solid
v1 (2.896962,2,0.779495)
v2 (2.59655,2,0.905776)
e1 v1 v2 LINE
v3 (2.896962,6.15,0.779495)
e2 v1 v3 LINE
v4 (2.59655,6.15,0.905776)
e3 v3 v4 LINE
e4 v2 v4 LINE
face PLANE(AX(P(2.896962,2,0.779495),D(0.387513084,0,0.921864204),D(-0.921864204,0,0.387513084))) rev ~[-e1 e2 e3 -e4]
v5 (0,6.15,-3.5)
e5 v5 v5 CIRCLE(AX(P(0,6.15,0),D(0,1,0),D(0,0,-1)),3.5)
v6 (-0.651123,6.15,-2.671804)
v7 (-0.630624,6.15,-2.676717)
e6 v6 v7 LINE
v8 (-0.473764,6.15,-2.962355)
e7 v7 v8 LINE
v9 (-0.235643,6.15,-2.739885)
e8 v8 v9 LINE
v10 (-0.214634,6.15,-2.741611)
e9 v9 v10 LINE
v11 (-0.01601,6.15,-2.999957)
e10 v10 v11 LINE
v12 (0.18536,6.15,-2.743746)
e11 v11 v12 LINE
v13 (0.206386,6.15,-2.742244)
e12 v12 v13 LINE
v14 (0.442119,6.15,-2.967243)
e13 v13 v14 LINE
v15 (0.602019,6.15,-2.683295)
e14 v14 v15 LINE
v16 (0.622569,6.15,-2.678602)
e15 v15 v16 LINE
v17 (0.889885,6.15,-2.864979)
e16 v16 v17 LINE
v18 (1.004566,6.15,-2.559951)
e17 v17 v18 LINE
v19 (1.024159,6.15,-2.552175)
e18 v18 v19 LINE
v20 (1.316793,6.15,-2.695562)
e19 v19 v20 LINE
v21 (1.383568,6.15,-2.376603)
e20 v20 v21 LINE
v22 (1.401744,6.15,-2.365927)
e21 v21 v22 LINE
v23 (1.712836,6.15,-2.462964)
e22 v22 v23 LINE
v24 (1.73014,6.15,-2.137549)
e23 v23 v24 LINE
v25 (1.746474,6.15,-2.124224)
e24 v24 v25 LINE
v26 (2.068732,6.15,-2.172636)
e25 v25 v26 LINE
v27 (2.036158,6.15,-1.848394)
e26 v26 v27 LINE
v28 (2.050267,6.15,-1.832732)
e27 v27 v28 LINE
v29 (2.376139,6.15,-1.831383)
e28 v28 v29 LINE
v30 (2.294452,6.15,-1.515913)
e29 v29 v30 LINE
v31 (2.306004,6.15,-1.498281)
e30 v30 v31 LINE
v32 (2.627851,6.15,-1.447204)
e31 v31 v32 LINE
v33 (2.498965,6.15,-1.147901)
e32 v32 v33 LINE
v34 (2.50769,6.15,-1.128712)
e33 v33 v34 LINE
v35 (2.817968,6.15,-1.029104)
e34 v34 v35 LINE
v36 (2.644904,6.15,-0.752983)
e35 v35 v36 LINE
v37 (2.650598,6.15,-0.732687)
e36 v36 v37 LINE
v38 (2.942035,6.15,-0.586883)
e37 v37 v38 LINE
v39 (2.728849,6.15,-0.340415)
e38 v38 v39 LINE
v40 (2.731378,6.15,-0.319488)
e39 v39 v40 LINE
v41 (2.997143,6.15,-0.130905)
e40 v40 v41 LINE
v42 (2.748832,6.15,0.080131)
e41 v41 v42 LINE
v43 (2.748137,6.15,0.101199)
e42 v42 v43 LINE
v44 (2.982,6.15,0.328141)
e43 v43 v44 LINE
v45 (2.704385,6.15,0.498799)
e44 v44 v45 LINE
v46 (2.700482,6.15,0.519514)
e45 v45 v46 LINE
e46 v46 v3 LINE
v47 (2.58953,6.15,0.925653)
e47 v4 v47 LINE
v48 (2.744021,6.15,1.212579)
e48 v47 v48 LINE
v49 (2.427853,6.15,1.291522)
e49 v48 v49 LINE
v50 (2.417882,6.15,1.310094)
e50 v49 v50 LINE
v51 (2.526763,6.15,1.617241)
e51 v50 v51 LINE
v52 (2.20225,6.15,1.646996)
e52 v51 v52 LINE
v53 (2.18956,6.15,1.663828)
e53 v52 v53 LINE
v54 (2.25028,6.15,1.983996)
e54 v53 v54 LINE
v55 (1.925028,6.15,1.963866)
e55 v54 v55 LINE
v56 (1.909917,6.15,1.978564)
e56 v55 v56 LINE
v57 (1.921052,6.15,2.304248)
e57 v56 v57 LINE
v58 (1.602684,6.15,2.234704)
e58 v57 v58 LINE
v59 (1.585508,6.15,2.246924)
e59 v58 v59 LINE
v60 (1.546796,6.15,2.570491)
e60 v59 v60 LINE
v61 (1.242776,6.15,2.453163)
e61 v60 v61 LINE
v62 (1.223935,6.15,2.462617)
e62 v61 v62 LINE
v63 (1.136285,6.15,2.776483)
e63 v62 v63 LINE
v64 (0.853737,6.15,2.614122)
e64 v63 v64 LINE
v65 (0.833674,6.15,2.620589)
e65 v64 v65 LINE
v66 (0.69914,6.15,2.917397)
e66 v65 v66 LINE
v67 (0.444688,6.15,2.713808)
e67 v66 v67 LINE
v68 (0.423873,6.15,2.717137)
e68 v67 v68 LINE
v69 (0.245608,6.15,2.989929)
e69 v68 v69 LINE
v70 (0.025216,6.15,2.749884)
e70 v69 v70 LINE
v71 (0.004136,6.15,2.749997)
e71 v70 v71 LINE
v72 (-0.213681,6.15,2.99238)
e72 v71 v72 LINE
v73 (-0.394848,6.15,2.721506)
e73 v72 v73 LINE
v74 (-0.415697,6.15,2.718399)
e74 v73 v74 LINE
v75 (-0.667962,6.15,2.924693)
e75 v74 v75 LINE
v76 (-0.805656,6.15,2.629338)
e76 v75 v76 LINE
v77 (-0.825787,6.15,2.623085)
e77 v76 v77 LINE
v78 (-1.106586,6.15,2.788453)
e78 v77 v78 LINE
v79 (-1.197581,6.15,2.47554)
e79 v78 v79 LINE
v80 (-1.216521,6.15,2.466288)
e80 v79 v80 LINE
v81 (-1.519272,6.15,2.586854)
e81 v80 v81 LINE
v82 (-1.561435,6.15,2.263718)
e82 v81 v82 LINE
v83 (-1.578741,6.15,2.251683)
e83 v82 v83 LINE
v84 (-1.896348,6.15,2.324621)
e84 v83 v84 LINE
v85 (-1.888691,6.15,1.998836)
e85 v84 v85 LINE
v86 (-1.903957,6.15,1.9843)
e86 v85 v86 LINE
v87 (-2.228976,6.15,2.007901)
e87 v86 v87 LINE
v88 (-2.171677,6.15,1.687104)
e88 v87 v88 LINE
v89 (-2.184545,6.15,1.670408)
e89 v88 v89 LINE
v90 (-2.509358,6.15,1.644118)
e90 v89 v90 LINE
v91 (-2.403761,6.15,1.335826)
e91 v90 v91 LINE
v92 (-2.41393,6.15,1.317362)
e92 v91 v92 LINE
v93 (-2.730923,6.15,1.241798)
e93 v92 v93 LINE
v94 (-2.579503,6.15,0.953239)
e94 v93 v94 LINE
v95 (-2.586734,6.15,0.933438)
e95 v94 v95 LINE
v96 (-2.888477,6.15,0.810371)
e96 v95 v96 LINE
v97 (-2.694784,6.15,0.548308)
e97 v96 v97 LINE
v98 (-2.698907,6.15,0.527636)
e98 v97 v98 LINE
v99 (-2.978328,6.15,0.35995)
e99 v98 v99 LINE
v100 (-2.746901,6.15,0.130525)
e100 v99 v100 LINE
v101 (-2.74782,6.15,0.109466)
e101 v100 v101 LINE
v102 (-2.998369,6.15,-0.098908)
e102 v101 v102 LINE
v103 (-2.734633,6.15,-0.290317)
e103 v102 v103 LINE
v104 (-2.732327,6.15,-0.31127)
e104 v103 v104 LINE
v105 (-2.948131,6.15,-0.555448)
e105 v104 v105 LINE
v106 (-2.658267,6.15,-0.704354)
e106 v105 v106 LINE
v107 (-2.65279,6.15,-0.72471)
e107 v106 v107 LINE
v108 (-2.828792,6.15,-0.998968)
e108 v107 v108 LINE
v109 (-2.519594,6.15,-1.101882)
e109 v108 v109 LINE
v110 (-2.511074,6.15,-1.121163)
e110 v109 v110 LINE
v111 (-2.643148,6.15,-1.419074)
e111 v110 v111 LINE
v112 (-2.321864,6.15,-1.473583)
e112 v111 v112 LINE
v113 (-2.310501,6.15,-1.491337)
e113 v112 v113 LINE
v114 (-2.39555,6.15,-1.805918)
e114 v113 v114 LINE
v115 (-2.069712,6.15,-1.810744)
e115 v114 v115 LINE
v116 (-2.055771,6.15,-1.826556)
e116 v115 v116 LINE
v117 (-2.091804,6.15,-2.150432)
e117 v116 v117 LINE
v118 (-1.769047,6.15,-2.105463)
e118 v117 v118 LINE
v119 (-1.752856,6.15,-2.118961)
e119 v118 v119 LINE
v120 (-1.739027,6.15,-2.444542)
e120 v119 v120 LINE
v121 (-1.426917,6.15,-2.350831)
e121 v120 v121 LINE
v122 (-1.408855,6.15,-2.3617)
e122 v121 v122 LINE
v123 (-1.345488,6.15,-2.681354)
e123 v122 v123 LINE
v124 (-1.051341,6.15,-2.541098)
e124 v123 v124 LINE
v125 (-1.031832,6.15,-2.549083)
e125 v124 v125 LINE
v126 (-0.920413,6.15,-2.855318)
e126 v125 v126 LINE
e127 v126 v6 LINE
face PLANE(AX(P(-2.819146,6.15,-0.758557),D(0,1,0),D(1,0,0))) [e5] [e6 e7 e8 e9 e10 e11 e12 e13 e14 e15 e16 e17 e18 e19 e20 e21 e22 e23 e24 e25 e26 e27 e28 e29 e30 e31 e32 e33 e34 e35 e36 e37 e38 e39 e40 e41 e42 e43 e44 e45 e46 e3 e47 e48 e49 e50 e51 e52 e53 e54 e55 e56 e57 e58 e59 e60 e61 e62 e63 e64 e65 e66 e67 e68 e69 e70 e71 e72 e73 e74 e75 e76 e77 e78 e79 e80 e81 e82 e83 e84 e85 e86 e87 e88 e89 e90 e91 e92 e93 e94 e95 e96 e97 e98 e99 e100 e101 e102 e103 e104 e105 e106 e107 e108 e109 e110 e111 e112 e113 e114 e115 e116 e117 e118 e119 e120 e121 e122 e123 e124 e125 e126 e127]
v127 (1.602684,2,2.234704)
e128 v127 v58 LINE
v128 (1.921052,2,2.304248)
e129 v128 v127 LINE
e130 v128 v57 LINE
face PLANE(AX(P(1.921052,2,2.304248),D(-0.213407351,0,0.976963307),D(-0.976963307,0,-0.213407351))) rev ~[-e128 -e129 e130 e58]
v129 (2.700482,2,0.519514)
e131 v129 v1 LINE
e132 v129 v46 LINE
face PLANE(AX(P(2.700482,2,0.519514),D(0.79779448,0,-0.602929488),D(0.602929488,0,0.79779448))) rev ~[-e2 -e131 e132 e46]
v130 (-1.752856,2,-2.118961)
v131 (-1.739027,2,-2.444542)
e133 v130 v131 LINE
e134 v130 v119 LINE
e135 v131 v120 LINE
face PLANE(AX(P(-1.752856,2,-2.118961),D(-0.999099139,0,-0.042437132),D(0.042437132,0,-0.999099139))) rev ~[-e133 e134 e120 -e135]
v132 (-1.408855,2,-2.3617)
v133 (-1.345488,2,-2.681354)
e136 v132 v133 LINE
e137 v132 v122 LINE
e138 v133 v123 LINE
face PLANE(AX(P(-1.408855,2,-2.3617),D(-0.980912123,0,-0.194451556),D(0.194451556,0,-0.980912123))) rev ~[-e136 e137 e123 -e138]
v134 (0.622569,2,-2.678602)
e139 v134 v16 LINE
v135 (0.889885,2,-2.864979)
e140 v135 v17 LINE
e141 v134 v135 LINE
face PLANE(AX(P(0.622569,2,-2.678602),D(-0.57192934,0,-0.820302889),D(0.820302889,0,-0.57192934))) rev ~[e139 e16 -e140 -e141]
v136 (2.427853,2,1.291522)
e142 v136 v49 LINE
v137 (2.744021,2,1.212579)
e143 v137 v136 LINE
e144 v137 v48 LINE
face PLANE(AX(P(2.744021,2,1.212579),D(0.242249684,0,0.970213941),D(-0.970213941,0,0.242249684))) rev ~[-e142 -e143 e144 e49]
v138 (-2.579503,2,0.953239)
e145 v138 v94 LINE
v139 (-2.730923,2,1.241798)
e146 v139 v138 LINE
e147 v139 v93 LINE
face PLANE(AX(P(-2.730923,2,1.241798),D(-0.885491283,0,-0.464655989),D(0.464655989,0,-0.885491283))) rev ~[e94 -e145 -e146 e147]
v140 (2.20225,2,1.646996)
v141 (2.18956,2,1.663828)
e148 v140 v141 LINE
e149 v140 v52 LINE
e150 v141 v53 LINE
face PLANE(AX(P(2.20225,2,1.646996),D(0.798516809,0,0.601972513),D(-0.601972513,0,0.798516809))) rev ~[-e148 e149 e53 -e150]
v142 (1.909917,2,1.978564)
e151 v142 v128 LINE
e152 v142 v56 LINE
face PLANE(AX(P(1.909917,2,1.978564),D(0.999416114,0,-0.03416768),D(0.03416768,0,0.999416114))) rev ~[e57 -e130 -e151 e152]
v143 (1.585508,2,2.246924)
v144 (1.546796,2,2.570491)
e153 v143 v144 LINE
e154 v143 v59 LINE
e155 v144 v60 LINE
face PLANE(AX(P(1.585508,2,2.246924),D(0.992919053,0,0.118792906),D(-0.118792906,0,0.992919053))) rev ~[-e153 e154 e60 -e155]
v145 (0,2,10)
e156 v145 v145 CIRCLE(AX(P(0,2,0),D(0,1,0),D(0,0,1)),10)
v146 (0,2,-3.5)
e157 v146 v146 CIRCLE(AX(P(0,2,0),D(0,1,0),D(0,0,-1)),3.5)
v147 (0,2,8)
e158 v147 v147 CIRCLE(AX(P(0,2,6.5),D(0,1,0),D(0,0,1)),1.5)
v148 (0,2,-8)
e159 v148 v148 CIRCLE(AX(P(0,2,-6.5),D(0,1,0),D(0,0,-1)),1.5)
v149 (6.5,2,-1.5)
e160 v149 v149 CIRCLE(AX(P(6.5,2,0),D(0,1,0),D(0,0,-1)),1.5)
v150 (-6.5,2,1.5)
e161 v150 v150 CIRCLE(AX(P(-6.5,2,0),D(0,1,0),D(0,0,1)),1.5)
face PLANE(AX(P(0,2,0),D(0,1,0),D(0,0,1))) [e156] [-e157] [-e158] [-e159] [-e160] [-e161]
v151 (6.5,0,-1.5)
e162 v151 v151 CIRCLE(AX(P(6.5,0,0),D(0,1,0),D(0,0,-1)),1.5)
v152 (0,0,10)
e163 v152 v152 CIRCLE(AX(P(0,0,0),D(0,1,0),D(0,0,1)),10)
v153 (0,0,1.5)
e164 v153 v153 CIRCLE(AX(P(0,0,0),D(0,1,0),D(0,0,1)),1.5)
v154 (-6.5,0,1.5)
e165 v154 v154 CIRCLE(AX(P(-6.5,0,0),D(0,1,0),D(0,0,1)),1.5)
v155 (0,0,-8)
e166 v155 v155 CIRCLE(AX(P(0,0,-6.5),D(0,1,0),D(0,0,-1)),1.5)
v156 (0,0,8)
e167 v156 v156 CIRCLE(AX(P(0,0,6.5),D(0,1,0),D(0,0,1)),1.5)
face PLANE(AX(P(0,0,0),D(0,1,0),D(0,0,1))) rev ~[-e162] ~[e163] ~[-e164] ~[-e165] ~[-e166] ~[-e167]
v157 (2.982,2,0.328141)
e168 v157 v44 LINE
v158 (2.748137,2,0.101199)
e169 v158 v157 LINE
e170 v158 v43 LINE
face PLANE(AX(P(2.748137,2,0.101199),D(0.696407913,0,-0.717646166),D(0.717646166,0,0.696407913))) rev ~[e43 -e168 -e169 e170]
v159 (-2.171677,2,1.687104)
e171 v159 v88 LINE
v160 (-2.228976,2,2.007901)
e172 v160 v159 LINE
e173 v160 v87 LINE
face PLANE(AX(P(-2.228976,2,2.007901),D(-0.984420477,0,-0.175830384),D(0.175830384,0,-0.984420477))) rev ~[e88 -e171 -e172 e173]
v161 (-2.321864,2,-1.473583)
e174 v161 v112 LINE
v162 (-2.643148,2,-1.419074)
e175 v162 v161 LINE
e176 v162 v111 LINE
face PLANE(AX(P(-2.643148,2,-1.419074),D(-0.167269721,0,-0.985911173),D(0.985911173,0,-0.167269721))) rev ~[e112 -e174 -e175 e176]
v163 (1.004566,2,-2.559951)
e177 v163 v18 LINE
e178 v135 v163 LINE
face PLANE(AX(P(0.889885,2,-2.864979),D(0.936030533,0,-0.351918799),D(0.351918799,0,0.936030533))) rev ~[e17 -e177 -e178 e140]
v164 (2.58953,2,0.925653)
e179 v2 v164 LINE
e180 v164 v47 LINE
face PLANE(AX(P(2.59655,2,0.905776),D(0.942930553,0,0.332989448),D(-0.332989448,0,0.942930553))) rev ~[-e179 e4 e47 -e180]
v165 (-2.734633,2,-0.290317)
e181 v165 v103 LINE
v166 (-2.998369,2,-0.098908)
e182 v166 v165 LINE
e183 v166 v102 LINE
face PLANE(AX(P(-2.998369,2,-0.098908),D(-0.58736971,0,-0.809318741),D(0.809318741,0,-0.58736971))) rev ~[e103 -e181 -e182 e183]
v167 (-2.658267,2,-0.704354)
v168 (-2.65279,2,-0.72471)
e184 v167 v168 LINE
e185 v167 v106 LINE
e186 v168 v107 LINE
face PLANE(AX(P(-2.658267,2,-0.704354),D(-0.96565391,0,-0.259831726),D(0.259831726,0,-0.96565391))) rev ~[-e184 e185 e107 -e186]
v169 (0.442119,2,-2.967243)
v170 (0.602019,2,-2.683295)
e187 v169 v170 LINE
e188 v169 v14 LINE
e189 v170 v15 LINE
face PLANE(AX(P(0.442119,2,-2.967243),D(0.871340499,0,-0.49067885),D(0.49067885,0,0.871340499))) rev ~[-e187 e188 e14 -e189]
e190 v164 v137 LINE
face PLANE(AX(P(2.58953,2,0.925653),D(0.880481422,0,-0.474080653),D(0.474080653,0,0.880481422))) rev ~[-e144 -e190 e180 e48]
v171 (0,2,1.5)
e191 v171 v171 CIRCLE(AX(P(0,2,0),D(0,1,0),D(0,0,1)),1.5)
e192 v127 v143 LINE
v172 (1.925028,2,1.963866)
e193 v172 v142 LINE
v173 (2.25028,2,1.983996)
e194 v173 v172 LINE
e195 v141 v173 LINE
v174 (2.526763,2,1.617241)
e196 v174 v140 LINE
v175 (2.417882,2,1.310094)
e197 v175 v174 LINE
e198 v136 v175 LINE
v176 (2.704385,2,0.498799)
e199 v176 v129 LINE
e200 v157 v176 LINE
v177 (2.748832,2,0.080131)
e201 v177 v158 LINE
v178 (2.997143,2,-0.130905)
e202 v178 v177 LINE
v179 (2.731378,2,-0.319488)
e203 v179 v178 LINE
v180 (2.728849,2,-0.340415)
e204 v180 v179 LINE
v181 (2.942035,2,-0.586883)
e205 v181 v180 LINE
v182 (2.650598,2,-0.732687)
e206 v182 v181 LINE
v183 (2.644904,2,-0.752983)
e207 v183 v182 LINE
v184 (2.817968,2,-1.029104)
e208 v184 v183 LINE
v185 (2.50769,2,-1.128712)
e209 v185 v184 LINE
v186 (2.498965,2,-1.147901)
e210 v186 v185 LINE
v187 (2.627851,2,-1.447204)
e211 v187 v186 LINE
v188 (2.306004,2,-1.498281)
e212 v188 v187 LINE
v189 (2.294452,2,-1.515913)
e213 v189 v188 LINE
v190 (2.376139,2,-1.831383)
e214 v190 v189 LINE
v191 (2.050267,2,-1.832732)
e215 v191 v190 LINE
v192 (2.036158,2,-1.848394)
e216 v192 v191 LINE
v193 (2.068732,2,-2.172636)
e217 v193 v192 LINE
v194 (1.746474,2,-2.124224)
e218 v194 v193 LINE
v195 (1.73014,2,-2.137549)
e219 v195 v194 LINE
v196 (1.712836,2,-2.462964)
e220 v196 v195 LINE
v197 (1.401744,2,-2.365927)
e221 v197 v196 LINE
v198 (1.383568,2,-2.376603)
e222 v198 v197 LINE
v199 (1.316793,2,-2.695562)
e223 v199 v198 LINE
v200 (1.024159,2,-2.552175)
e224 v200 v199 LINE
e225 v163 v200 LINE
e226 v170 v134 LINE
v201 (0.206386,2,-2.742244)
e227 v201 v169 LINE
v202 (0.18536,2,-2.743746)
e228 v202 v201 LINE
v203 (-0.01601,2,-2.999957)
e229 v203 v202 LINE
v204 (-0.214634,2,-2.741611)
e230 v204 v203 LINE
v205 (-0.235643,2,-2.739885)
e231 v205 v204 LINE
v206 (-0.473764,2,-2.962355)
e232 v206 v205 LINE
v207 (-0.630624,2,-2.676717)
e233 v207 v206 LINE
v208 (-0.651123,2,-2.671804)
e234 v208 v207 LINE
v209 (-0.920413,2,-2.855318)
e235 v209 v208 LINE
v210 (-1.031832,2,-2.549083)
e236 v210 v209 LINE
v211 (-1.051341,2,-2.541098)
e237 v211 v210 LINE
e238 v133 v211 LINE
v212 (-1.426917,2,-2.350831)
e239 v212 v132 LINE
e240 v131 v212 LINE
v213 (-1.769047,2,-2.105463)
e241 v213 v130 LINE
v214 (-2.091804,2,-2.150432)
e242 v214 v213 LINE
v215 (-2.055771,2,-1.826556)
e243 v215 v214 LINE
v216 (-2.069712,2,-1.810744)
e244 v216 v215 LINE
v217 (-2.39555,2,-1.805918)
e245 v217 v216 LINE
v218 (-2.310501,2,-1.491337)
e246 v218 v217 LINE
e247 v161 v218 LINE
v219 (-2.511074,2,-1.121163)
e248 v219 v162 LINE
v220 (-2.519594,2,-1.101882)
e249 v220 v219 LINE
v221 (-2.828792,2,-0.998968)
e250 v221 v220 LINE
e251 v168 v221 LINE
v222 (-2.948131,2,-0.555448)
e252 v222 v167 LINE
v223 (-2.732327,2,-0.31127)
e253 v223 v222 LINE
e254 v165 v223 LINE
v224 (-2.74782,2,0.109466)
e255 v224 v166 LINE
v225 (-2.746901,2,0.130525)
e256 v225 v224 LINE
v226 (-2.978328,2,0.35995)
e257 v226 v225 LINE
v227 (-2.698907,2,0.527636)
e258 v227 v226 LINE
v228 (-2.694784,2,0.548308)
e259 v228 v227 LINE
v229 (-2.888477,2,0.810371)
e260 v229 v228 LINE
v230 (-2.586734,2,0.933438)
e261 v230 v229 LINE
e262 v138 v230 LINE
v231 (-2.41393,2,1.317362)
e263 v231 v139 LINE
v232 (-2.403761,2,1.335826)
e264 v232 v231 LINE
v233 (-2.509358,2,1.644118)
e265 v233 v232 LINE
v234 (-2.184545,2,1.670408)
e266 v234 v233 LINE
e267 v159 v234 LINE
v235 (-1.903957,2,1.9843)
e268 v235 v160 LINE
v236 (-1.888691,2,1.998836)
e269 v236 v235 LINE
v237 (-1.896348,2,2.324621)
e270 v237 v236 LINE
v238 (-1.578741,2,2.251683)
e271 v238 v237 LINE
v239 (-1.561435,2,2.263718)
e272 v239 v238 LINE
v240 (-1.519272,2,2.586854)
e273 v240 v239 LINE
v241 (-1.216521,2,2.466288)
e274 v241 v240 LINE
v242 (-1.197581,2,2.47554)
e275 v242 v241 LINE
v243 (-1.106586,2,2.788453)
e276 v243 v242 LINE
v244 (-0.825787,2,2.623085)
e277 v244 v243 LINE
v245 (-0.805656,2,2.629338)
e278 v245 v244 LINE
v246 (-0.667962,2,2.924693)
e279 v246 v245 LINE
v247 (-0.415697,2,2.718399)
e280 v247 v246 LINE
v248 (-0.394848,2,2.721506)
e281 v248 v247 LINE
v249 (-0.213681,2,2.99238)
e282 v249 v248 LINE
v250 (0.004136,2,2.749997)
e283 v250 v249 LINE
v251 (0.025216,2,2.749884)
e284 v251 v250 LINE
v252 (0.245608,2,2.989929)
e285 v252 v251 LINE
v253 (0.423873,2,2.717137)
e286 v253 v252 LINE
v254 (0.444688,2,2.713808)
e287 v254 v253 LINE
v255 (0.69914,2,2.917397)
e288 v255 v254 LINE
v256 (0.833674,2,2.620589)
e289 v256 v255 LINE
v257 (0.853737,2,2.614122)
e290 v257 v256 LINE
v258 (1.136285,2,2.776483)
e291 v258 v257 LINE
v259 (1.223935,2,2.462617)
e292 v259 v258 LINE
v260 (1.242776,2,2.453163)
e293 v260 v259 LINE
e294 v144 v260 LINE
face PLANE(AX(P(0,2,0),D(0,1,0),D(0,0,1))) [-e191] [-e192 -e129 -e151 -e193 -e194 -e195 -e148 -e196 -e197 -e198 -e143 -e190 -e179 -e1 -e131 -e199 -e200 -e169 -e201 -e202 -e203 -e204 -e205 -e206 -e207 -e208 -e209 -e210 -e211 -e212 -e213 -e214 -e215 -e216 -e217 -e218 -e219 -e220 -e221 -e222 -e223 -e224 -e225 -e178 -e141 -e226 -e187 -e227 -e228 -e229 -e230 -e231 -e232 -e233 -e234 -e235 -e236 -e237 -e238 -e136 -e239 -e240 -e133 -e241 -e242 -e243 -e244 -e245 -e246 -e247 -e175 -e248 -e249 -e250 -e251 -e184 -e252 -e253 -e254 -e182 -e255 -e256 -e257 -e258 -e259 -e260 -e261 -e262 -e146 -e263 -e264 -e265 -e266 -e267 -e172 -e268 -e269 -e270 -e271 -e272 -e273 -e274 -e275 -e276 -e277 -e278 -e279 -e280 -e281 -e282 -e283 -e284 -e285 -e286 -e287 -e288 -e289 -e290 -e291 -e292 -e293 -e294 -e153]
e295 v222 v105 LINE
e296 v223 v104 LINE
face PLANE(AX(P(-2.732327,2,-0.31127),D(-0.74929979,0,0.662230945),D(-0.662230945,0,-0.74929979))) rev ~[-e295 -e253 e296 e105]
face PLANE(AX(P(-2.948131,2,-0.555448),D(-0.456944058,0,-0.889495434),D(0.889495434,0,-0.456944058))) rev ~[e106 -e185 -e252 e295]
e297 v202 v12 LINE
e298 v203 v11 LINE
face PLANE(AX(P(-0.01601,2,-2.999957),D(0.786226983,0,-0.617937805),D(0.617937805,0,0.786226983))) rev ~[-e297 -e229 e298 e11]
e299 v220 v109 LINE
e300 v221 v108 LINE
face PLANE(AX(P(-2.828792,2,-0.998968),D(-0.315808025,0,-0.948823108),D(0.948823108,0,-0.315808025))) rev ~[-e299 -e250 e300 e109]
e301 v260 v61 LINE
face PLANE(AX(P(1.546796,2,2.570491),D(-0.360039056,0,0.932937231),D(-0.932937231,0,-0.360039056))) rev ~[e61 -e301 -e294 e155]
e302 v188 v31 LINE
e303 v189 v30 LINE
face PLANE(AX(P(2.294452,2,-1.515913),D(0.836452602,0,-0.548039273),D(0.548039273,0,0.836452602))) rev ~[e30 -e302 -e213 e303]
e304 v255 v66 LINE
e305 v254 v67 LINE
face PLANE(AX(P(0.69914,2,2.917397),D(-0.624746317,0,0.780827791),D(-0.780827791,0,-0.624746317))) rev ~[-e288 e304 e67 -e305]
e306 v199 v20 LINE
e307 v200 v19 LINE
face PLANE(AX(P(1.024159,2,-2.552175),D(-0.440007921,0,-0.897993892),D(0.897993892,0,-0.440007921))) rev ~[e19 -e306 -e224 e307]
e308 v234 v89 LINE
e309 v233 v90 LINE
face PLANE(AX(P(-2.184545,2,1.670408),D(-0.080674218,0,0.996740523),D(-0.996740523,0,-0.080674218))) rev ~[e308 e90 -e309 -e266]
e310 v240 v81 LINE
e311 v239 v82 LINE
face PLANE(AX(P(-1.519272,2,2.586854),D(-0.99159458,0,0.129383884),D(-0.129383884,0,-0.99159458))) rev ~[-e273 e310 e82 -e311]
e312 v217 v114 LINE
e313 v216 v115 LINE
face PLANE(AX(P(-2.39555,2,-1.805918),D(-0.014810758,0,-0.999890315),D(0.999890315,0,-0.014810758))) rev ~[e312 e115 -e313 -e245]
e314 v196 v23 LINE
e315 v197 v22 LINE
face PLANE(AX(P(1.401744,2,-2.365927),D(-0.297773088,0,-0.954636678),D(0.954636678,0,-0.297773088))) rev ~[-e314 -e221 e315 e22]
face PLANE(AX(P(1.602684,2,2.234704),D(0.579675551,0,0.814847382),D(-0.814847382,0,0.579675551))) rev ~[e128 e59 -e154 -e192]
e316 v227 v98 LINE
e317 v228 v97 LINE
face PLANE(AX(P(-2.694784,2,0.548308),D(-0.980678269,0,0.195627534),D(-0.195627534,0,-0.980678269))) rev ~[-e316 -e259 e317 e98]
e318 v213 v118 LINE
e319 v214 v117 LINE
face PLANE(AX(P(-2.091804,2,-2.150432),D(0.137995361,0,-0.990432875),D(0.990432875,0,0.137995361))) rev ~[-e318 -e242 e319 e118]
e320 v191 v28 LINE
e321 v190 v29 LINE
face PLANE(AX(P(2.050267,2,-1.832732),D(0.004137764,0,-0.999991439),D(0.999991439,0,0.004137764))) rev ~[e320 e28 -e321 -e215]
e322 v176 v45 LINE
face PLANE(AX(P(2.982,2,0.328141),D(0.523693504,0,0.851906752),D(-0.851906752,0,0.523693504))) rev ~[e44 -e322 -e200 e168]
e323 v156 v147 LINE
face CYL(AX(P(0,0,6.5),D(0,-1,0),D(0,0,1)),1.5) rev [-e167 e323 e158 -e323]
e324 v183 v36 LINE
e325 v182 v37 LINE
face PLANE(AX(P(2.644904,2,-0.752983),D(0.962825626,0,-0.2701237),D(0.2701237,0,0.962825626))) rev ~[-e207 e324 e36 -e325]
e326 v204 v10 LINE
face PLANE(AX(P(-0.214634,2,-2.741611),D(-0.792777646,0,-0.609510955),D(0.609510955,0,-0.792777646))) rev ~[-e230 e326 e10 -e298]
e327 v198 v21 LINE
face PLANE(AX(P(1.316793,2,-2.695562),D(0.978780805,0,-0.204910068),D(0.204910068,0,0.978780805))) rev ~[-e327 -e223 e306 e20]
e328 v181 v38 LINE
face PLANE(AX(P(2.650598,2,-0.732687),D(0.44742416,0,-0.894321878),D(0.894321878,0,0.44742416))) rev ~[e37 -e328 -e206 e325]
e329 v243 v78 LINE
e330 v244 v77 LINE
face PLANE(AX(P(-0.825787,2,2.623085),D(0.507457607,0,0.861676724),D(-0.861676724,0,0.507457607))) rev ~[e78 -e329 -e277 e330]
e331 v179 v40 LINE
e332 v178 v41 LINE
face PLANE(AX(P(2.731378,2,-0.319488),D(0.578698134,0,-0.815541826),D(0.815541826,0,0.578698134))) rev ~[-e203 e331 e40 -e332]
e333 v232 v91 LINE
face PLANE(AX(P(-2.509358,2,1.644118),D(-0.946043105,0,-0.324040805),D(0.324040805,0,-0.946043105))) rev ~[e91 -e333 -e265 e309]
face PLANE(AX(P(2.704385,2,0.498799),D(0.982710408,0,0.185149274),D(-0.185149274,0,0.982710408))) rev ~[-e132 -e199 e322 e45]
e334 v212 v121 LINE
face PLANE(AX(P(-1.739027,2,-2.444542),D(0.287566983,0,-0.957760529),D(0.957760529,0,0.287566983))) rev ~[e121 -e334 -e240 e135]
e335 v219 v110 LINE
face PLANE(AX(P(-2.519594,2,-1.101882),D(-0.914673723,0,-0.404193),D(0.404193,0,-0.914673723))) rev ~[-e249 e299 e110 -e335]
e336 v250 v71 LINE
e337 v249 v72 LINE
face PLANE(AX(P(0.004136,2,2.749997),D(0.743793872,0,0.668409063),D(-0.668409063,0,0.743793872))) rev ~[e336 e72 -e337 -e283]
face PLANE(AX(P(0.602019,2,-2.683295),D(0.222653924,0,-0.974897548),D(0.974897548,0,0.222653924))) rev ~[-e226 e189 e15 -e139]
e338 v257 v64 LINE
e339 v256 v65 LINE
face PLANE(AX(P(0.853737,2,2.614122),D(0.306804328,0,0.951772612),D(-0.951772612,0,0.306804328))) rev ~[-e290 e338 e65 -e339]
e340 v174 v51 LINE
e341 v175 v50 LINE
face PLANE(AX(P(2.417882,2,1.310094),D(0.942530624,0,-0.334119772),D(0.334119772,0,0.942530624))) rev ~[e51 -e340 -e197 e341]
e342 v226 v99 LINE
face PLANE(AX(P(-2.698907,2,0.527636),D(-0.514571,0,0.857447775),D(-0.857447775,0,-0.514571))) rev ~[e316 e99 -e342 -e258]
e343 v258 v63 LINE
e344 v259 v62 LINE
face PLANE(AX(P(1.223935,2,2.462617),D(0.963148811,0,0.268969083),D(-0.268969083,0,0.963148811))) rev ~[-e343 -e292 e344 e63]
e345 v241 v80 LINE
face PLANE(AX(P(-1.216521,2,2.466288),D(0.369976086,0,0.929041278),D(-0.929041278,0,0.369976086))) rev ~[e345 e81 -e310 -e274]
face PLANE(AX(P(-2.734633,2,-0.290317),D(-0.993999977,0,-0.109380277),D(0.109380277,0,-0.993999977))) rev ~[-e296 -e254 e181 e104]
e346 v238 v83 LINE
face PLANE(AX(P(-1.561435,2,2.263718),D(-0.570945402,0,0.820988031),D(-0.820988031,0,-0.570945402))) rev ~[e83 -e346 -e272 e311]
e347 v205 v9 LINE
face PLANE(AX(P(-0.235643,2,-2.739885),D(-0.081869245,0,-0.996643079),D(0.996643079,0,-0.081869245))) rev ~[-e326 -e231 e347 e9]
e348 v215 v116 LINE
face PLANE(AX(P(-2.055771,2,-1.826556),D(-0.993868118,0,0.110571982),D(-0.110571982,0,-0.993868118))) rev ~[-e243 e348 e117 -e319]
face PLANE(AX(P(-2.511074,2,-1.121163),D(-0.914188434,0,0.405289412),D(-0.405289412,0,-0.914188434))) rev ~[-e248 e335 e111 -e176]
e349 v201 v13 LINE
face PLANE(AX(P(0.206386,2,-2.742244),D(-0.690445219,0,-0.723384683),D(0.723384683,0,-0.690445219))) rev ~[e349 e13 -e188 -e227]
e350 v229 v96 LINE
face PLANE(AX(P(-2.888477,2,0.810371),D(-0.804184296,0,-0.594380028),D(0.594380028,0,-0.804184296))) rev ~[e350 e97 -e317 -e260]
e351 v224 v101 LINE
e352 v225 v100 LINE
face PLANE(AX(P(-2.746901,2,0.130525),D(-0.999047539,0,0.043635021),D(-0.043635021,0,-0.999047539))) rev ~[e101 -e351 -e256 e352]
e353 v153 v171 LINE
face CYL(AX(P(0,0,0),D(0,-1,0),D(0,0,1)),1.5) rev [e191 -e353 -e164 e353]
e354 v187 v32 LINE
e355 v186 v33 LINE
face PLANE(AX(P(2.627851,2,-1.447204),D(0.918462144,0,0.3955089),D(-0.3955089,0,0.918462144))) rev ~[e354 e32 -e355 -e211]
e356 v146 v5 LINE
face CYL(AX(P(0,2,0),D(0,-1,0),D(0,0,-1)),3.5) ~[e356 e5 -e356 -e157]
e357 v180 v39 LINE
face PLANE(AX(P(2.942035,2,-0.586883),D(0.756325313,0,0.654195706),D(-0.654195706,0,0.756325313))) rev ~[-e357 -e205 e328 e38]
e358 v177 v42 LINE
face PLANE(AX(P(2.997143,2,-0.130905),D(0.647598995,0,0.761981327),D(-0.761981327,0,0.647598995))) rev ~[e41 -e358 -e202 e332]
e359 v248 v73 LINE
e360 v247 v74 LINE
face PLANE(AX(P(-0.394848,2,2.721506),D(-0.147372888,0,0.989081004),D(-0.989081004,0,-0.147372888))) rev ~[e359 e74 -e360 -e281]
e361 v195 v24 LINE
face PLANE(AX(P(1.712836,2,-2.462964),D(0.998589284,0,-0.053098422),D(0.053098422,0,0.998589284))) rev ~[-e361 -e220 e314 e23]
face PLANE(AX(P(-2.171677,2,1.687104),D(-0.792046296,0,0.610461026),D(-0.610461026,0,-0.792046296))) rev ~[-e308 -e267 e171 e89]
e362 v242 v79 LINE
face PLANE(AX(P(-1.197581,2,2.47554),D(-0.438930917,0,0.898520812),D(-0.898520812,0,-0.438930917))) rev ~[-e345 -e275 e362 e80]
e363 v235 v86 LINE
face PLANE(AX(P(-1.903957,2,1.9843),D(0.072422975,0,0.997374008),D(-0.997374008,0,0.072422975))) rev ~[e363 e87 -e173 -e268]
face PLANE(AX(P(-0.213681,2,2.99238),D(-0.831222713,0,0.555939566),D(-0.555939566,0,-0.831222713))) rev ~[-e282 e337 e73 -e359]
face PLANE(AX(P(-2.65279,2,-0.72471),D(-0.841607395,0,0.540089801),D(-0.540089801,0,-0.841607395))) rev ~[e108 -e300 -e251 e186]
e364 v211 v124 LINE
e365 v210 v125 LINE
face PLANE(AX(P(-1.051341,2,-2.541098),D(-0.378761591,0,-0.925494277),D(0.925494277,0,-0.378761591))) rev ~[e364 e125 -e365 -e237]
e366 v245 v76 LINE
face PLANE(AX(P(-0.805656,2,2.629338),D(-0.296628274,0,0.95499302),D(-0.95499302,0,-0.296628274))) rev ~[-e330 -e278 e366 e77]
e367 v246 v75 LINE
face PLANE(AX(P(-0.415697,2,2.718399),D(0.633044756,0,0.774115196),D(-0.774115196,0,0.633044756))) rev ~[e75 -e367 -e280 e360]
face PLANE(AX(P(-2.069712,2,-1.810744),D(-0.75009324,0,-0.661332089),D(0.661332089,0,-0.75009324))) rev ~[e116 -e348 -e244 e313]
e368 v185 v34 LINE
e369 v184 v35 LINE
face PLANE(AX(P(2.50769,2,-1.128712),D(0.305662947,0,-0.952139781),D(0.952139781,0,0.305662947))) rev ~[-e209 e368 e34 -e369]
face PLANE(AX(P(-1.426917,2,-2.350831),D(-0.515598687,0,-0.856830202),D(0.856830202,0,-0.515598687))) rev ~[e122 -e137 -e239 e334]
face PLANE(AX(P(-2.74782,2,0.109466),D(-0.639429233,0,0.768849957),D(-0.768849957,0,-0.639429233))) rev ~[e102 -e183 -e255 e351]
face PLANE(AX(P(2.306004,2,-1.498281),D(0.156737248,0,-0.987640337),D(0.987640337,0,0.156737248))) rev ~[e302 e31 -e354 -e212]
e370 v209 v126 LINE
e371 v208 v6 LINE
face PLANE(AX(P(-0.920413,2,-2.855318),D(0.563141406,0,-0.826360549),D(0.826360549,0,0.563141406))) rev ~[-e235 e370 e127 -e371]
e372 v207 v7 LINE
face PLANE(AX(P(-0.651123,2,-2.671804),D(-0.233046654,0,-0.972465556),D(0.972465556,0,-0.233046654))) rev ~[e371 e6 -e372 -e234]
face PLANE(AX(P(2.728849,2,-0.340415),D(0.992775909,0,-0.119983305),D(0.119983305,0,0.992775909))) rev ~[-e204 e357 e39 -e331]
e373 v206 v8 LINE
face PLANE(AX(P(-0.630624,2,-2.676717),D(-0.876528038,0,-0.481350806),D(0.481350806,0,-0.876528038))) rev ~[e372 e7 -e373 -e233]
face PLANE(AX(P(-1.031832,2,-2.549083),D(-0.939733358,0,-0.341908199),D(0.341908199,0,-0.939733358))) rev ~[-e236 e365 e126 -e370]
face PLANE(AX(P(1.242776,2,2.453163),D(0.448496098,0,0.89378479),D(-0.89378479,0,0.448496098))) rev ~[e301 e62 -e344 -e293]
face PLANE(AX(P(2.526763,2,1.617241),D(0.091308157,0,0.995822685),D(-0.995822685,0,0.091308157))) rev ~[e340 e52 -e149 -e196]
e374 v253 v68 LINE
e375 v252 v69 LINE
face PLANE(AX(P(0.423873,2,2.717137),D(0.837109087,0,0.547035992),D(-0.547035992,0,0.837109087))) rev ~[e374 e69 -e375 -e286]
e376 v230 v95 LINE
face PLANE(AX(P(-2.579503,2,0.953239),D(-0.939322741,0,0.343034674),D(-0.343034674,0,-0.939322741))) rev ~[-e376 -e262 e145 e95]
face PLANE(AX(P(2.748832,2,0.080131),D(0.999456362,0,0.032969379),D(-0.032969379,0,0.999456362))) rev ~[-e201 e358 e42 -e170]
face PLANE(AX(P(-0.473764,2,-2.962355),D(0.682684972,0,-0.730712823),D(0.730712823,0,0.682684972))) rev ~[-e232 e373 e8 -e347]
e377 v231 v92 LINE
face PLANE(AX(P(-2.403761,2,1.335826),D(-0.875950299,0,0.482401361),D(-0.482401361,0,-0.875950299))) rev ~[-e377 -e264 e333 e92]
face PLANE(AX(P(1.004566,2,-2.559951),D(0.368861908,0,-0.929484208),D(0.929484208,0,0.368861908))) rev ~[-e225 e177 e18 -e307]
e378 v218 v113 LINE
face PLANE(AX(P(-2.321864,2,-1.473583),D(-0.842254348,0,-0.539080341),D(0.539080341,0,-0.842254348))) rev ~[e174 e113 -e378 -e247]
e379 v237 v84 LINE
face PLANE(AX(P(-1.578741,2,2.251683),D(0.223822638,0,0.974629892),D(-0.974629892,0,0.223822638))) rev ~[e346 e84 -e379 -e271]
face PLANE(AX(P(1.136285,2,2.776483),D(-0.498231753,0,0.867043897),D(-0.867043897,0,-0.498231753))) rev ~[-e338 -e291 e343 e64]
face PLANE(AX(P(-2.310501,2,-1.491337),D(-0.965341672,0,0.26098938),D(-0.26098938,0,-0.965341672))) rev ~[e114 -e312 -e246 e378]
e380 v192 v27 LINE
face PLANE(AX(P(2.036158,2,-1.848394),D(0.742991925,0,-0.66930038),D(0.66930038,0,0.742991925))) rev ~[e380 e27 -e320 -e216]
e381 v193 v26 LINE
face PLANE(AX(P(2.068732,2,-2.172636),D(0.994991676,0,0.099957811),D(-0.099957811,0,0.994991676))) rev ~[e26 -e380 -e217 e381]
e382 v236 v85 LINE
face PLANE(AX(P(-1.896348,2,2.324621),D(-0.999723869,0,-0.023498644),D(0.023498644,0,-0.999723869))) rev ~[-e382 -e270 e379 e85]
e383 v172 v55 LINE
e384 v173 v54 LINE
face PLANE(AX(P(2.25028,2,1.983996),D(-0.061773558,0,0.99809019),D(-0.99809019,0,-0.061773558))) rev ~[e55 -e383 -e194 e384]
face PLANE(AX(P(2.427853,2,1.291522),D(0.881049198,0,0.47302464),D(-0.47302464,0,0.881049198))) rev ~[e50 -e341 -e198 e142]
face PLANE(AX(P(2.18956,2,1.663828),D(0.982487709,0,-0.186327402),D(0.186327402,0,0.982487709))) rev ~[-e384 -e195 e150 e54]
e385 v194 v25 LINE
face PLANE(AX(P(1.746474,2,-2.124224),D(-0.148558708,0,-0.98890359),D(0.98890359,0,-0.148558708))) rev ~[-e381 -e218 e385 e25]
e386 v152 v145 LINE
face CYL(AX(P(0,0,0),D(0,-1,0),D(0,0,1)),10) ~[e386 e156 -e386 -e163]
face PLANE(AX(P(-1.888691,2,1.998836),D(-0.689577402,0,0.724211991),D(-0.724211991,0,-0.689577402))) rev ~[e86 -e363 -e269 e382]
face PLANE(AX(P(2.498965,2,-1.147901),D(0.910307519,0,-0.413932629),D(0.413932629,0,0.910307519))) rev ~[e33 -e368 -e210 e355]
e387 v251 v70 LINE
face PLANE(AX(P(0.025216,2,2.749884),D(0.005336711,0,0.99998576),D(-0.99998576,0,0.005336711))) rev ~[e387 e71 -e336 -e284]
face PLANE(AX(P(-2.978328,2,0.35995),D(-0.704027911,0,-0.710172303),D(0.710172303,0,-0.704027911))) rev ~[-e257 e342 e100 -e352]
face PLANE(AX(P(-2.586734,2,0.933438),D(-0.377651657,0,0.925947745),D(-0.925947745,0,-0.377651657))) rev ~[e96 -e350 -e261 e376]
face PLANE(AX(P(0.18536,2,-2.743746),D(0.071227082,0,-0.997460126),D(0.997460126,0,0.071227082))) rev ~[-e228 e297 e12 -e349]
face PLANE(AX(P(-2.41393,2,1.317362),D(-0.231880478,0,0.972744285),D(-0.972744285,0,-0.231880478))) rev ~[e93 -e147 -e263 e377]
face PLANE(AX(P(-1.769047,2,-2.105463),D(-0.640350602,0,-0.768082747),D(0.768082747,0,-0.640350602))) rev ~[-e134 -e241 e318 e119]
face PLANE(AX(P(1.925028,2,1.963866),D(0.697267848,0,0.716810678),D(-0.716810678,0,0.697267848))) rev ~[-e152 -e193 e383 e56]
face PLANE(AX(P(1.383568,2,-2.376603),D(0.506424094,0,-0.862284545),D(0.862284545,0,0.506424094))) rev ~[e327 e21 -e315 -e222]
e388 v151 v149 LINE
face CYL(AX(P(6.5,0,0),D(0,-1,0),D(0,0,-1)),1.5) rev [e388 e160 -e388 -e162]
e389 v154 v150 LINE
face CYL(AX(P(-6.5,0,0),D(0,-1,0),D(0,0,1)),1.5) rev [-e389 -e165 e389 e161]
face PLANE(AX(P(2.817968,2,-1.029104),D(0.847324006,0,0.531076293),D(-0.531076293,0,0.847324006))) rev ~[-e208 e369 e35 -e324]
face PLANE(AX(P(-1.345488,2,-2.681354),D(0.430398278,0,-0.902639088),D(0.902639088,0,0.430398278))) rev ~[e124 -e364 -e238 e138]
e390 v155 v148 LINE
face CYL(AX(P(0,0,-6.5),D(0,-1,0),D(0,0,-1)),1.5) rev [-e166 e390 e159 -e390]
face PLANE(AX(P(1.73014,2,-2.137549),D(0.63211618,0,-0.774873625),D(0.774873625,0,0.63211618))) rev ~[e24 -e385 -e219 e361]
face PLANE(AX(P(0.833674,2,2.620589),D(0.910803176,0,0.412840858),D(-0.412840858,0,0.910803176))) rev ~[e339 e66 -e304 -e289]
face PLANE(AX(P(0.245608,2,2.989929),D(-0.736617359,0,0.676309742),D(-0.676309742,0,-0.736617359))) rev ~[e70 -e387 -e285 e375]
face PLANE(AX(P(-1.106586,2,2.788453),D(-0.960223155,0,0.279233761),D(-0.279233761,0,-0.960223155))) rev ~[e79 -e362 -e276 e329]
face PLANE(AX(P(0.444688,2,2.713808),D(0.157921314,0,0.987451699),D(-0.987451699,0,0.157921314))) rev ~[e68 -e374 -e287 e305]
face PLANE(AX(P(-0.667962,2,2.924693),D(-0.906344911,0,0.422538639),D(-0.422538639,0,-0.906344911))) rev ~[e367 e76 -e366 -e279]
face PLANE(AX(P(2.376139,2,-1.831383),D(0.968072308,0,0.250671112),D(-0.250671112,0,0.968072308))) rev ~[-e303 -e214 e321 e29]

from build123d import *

# Parameters (mm, degrees)
SKETCH1_R           = 10
SKETCH1_R_2         = 1.5
BOSS_EXTRUDE1_DEPTH = 2
SKETCH2_R           = 3.5
SKETCH2_R_2         = 3
BOSS_EXTRUDE2_DEPTH = 4.15
BOSS_EXTRUDE3_START = -4.15
BOSS_EXTRUDE3_DEPTH = 4.15


with BuildPart() as part:
    # Sketch1 → Boss-Extrude1 (new body)
    with BuildSketch(Plane(origin=(0, 0, 0), x_dir=(1, 0, 0), z_dir=(0, 1, 0))):
        with Locations(Location((0, 0, 0), (0, 0, 270))):
            Circle(SKETCH1_R)
        with Locations(Location((0, 0, 0), (0, 0, 270))):
            Circle(SKETCH1_R_2, mode=Mode.SUBTRACT)
        with Locations(Location((-6.5, 0, 0), (0, 0, 270))):
            Circle(SKETCH1_R_2, mode=Mode.SUBTRACT)
        with Locations(Location((0, -6.5, 0), (0, 0, 270))):
            Circle(SKETCH1_R_2, mode=Mode.SUBTRACT)
        with Locations(Location((6.5, 0, 0), (0, 0, 90))):
            Circle(SKETCH1_R_2, mode=Mode.SUBTRACT)
        with Locations(Location((0, 6.5, 0), (0, 0, 90))):
            Circle(SKETCH1_R_2, mode=Mode.SUBTRACT)
    extrude(amount=BOSS_EXTRUDE1_DEPTH)

    # Sketch2 → Boss-Extrude2 (add)
    with BuildSketch(Plane(origin=(0, 2, 0), x_dir=(1, 0, 0), z_dir=(0, 1, 0))):
        with Locations(Location((0, 0, 0), (0, 0, 90))):
            Circle(SKETCH2_R)
        with Locations(Location((0, 0, 0), (0, 0, 90))):
            Circle(SKETCH2_R_2, mode=Mode.SUBTRACT)
    extrude(amount=BOSS_EXTRUDE2_DEPTH)

    # Sketch5 → Boss-Extrude3 (add)
    with BuildSketch(Plane(origin=(0, 6.15, 0), x_dir=(1, 0, 0), z_dir=(0, 1, 0)).offset(BOSS_EXTRUDE3_START)):
        with BuildLine():
            ThreePointArc((-2.828791658, 0.998968346), (-2.896961701, 0.779495286), (-2.948131221, 0.555447838))
            Line((-2.948131221, 0.555447838), (-2.658267303, 0.704354274))
            Line((-2.658267303, 0.704354274), (-2.652790141, 0.724709921))
            Line((-2.652790141, 0.724709921), (-2.828791658, 0.998968346))
        make_face()
        with BuildLine():
            ThreePointArc((-2.643147616, 1.419073882), (-2.74402114, 1.212579062), (-2.828791658, 0.998968346))
            Line((-2.828791658, 0.998968346), (-2.519594361, 1.101882142))
            Line((-2.519594361, 1.101882142), (-2.511074114, 1.121163144))
            Line((-2.511074114, 1.121163144), (-2.643147616, 1.419073882))
        make_face()
        with BuildLine():
            Line((-2.732327015, 0.311270112), (-2.948131221, 0.555447838))
            ThreePointArc((-2.948131221, 0.555447838), (-2.981999935, 0.328140802), (-2.998369088, 0.098908104))
            Line((-2.998369088, 0.098908104), (-2.734632713, 0.29031694))
            Line((-2.734632713, 0.29031694), (-2.732327015, 0.311270112))
        make_face()
        with BuildLine():
            Line((-2.74782046, -0.109465605), (-2.998369088, 0.098908104))
            ThreePointArc((-2.998369088, 0.098908104), (-2.997142618, -0.130905025), (-2.978327724, -0.359949952))
            Line((-2.978327724, -0.359949952), (-2.746900649, -0.130525178))
            Line((-2.746900649, -0.130525178), (-2.74782046, -0.109465605))
        make_face()
        with BuildLine():
            Line((-2.698907323, -0.527635541), (-2.978327724, -0.359949952))
            ThreePointArc((-2.978327724, -0.359949952), (-2.942034819, -0.586882549), (-2.888476883, -0.810371086))
            Line((-2.888476883, -0.810371086), (-2.694783563, -0.548307896))
            Line((-2.694783563, -0.548307896), (-2.698907323, -0.527635541))
        make_face()
        with BuildLine():
            Line((-2.586734085, -0.933438147), (-2.888476883, -0.810371086))
            ThreePointArc((-2.888476883, -0.810371086), (-2.817968216, -1.029104043), (-2.730922592, -1.241797809))
            Line((-2.730922592, -1.241797809), (-2.579503034, -0.953238742))
            Line((-2.579503034, -0.953238742), (-2.586734085, -0.933438147))
        make_face()
        with BuildLine():
            Line((-2.184545427, -1.670407518), (-2.509357789, -1.644117844))
            ThreePointArc((-2.509357789, -1.644117844), (-2.376138842, -1.831383139), (-2.228975768, -2.00790115))
            Line((-2.228975768, -2.00790115), (-2.171677122, -1.687103577))
            Line((-2.171677122, -1.687103577), (-2.184545427, -1.670407518))
        make_face()
        with BuildLine():
            Line((-2.413929992, -1.317361754), (-2.730922592, -1.241797809))
            ThreePointArc((-2.730922592, -1.241797809), (-2.627850827, -1.447204211), (-2.509357789, -1.644117844))
            Line((-2.509357789, -1.644117844), (-2.40376114, -1.33582648))
            Line((-2.40376114, -1.33582648), (-2.413929992, -1.317361754))
        make_face()
        with BuildLine():
            Line((-1.903956968, -1.984300346), (-2.228975768, -2.00790115))
            ThreePointArc((-2.228975768, -2.00790115), (-2.068732177, -2.172635998), (-1.896348443, -2.324620955))
            Line((-1.896348443, -2.324620955), (-1.888690833, -1.998836396))
            Line((-1.888690833, -1.998836396), (-1.903956968, -1.984300346))
        make_face()
        with BuildLine():
            Line((-1.578741372, -2.251682855), (-1.896348443, -2.324620955))
            ThreePointArc((-1.896348443, -2.324620955), (-1.712836182, -2.462964111), (-1.519272318, -2.586853615))
            Line((-1.519272318, -2.586853615), (-1.561435232, -2.263718184))
            Line((-1.561435232, -2.263718184), (-1.578741372, -2.251682855))
        make_face()
        with BuildLine():
            Line((-1.216521416, -2.466287827), (-1.519272318, -2.586853615))
            ThreePointArc((-1.519272318, -2.586853615), (-1.316792759, -2.695562433), (-1.106585738, -2.788452618))
            Line((-1.106585738, -2.788452618), (-1.197580912, -2.475540337))
            Line((-1.197580912, -2.475540337), (-1.216521416, -2.466287827))
        make_face()
        with BuildLine():
            Line((-0.825787229, -2.623085102), (-1.106585738, -2.788452618))
            ThreePointArc((-1.106585738, -2.788452618), (-0.88988483, -2.864979056), (-0.667961725, -2.924692656))
            Line((-0.667961725, -2.924692656), (-0.805656311, -2.629337922))
            Line((-0.805656311, -2.629337922), (-0.825787229, -2.623085102))
        make_face()
        with BuildLine():
            Line((-0.41569729, -2.718399486), (-0.667961725, -2.924692656))
            ThreePointArc((-0.667961725, -2.924692656), (-0.442118755, -2.967242998), (-0.213681256, -2.992380377))
            Line((-0.213681256, -2.992380377), (-0.394847808, -2.721506055))
            Line((-0.394847808, -2.721506055), (-0.41569729, -2.718399486))
        make_face()
        with BuildLine():
            Line((0.004136242, -2.749996889), (-0.213681256, -2.992380377))
            ThreePointArc((-0.213681256, -2.992380377), (0.016010209, -2.999957279), (0.24560772, -2.989929238))
            Line((0.24560772, -2.989929238), (0.025215592, -2.749884393))
            Line((0.025215592, -2.749884393), (0.004136242, -2.749996889))
        make_face()
        with BuildLine():
            Line((0.423872824, -2.717136697), (0.24560772, -2.989929238))
            ThreePointArc((0.24560772, -2.989929238), (0.473763907, -2.962355104), (0.69913986, -2.917396692))
            Line((0.69913986, -2.917396692), (0.44468796, -2.713807771))
            Line((0.44468796, -2.713807771), (0.423872824, -2.717136697))
        make_face()
        with BuildLine():
            Line((0.833674186, -2.620589123), (0.69913986, -2.917396692))
            ThreePointArc((0.69913986, -2.917396692), (0.920412981, -2.855317836), (1.136284754, -2.77648284))
            Line((1.136284754, -2.77648284), (0.85373722, -2.614121795))
            Line((0.85373722, -2.614121795), (0.833674186, -2.620589123))
        make_face()
        with BuildLine():
            Line((1.223934931, -2.462617161), (1.136284754, -2.77648284))
            ThreePointArc((1.136284754, -2.77648284), (1.345488355, -2.681354338), (1.546796096, -2.570490583))
            Line((1.546796096, -2.570490583), (1.242775602, -2.45316302))
            Line((1.242775602, -2.45316302), (1.223934931, -2.462617161))
        make_face()
        with BuildLine():
            Line((1.58550768, -2.246923541), (1.546796096, -2.570490583))
            ThreePointArc((1.546796096, -2.570490583), (1.739026622, -2.444542167), (1.921051849, -2.304248206))
            Line((1.921051849, -2.304248206), (1.602684378, -2.234704183))
            Line((1.602684378, -2.234704183), (1.58550768, -2.246923541))
        make_face()
        with BuildLine():
            Line((1.909917472, -1.978563936), (1.921051849, -2.304248206))
            ThreePointArc((1.921051849, -2.304248206), (2.091803579, -2.150432), (2.250279774, -1.983996204))
            Line((2.250279774, -1.983996204), (1.92502759, -1.963865774))
            Line((1.92502759, -1.963865774), (1.909917472, -1.978563936))
        make_face()
        with BuildLine():
            Line((2.189560417, -1.663828471), (2.250279774, -1.983996204))
            ThreePointArc((2.250279774, -1.983996204), (2.395550433, -1.805917529), (2.52676305, -1.617241012))
            Line((2.52676305, -1.617241012), (2.202249787, -1.646996016))
            Line((2.202249787, -1.646996016), (2.189560417, -1.663828471))
        make_face()
        with BuildLine():
            Line((2.417881922, -1.310094276), (2.52676305, -1.617241012))
            ThreePointArc((2.52676305, -1.617241012), (2.643147616, -1.419073882), (2.74402114, -1.212579062))
            Line((2.74402114, -1.212579062), (2.427853116, -1.291522067))
            Line((2.427853116, -1.291522067), (2.417881922, -1.310094276))
        make_face()
        with BuildLine():
            Line((2.589530324, -0.925652581), (2.74402114, -1.212579062))
            ThreePointArc((2.74402114, -1.212579062), (2.828791658, -0.998968346), (2.896961701, -0.779495286))
            Line((2.896961701, -0.779495286), (2.596549625, -0.905775935))
            Line((2.596549625, -0.905775935), (2.589530324, -0.925652581))
        make_face()
        with BuildLine():
            Line((2.70048233, -0.519514375), (2.896961701, -0.779495286))
            ThreePointArc((2.896961701, -0.779495286), (2.948131221, -0.555447838), (2.981999935, -0.328140802))
            Line((2.981999935, -0.328140802), (2.704385212, -0.498799183))
            Line((2.704385212, -0.498799183), (2.70048233, -0.519514375))
        make_face()
        with BuildLine():
            ThreePointArc((3, 0), (2.99928557, 0.065468103), (2.997142618, 0.130905025))
            Line((2.997142618, 0.130905025), (2.748832302, -0.080131001))
            Line((2.748832302, -0.080131001), (2.748137319, -0.101199192))
            Line((2.748137319, -0.101199192), (2.981999935, -0.328140802))
            ThreePointArc((2.981999935, -0.328140802), (2.995496604, -0.164317063), (3, 0))
        make_face()
        with BuildLine():
            ThreePointArc((2.997142618, 0.130905025), (2.978327724, 0.359949952), (2.942034819, 0.586882549))
            Line((2.942034819, 0.586882549), (2.728849092, 0.340415383))
            Line((2.728849092, 0.340415383), (2.731378298, 0.319488015))
            Line((2.731378298, 0.319488015), (2.997142618, 0.130905025))
        make_face()
        with BuildLine():
            ThreePointArc((2.942034819, 0.586882549), (2.888476883, 0.810371086), (2.817968216, 1.029104043))
            Line((2.817968216, 1.029104043), (2.644903972, 0.75298272))
            Line((2.644903972, 0.75298272), (2.650598085, 0.732686693))
            Line((2.650598085, 0.732686693), (2.942034819, 0.586882549))
        make_face()
        with BuildLine():
            ThreePointArc((2.817968216, 1.029104043), (2.730922592, 1.241797809), (2.627850827, 1.447204211))
            Line((2.627850827, 1.447204211), (2.498964545, 1.14790078))
            Line((2.498964545, 1.14790078), (2.5076901, 1.128711816))
            Line((2.5076901, 1.128711816), (2.817968216, 1.029104043))
        make_face()
        with BuildLine():
            ThreePointArc((2.627850827, 1.447204211), (2.509357789, 1.644117844), (2.376138842, 1.831383139))
            Line((2.376138842, 1.831383139), (2.294451508, 1.515913018))
            Line((2.294451508, 1.515913018), (2.306003984, 1.49828089))
            Line((2.306003984, 1.49828089), (2.627850827, 1.447204211))
        make_face()
        with BuildLine():
            ThreePointArc((2.376138842, 1.831383139), (2.228975768, 2.00790115), (2.068732177, 2.172635998))
            Line((2.068732177, 2.172635998), (2.036158471, 1.848393541))
            Line((2.036158471, 1.848393541), (2.050267089, 1.832731531))
            Line((2.050267089, 1.832731531), (2.376138842, 1.831383139))
        make_face()
        with BuildLine():
            ThreePointArc((2.068732177, 2.172635998), (1.896348443, 2.324620955), (1.712836182, 2.462964111))
            Line((1.712836182, 2.462964111), (1.730139606, 2.137549285))
            Line((1.730139606, 2.137549285), (1.746473671, 2.124224497))
            Line((1.746473671, 2.124224497), (2.068732177, 2.172635998))
        make_face()
        with BuildLine():
            ThreePointArc((1.712836182, 2.462964111), (1.519272318, 2.586853615), (1.316792759, 2.695562433))
            Line((1.316792759, 2.695562433), (1.383567734, 2.376602685))
            Line((1.383567734, 2.376602685), (1.401744391, 2.365927442))
            Line((1.401744391, 2.365927442), (1.712836182, 2.462964111))
        make_face()
        with BuildLine():
            ThreePointArc((1.316792759, 2.695562433), (1.106585738, 2.788452618), (0.88988483, 2.864979056))
            Line((0.88988483, 2.864979056), (1.004566208, 2.559950533))
            Line((1.004566208, 2.559950533), (1.02415941, 2.552175053))
            Line((1.02415941, 2.552175053), (1.316792759, 2.695562433))
        make_face()
        with BuildLine():
            ThreePointArc((0.88988483, 2.864979056), (0.667961725, 2.924692656), (0.442118755, 2.967242998))
            Line((0.442118755, 2.967242998), (0.602018501, 2.683295311))
            Line((0.602018501, 2.683295311), (0.622569001, 2.678601844))
            Line((0.622569001, 2.678601844), (0.88988483, 2.864979056))
        make_face()
        with BuildLine():
            ThreePointArc((0.442118755, 2.967242998), (0.213681256, 2.992380377), (-0.016010209, 2.999957279))
            Line((-0.016010209, 2.999957279), (0.185359991, 2.74374592))
            Line((0.185359991, 2.74374592), (0.206386102, 2.742244478))
            Line((0.206386102, 2.742244478), (0.442118755, 2.967242998))
        make_face()
        with BuildLine():
            ThreePointArc((-0.016010209, 2.999957279), (-0.24560772, 2.989929238), (-0.473763907, 2.962355104))
            Line((-0.473763907, 2.962355104), (-0.2356432, 2.739885451))
            Line((-0.2356432, 2.739885451), (-0.214634313, 2.741611226))
            Line((-0.214634313, 2.741611226), (-0.016010209, 2.999957279))
        make_face()
        with BuildLine():
            ThreePointArc((-0.473763907, 2.962355104), (-0.69913986, 2.917396692), (-0.920412981, 2.855317836))
            Line((-0.920412981, 2.855317836), (-0.651123115, 2.671804388))
            Line((-0.651123115, 2.671804388), (-0.630623881, 2.67671693))
            Line((-0.630623881, 2.67671693), (-0.473763907, 2.962355104))
        make_face()
        with BuildLine():
            ThreePointArc((-0.920412981, 2.855317836), (-1.136284754, 2.77648284), (-1.345488355, 2.681354338))
            Line((-1.345488355, 2.681354338), (-1.051341255, 2.541098496))
            Line((-1.051341255, 2.541098496), (-1.031832159, 2.549082658))
            Line((-1.031832159, 2.549082658), (-0.920412981, 2.855317836))
        make_face()
        with BuildLine():
            ThreePointArc((-1.345488355, 2.681354338), (-1.546796096, 2.570490583), (-1.739026622, 2.444542167))
            Line((-1.739026622, 2.444542167), (-1.426916848, 2.350831408))
            Line((-1.426916848, 2.350831408), (-1.408855167, 2.361700048))
            Line((-1.408855167, 2.361700048), (-1.345488355, 2.681354338))
        make_face()
        with BuildLine():
            ThreePointArc((-1.739026622, 2.444542167), (-1.921051849, 2.304248206), (-2.091803579, 2.150432))
            Line((-2.091803579, 2.150432), (-1.769046719, 2.105462825))
            Line((-1.769046719, 2.105462825), (-1.752855803, 2.118961192))
            Line((-1.752855803, 2.118961192), (-1.739026622, 2.444542167))
        make_face()
        with BuildLine():
            ThreePointArc((-2.091803579, 2.150432), (-2.250279774, 1.983996204), (-2.395550433, 1.805917529))
            Line((-2.395550433, 1.805917529), (-2.069711634, 1.810743978))
            Line((-2.069711634, 1.810743978), (-2.055770985, 1.826555681))
            Line((-2.055770985, 1.826555681), (-2.091803579, 2.150432))
        make_face()
        with BuildLine():
            ThreePointArc((-2.395550433, 1.805917529), (-2.52676305, 1.617241012), (-2.643147616, 1.419073882))
            Line((-2.643147616, 1.419073882), (-2.321864263, 1.473582826))
            Line((-2.321864263, 1.473582826), (-2.310500638, 1.491337253))
            Line((-2.310500638, 1.491337253), (-2.395550433, 1.805917529))
        make_face()
    extrude(amount=BOSS_EXTRUDE3_DEPTH)


solid = part.part
